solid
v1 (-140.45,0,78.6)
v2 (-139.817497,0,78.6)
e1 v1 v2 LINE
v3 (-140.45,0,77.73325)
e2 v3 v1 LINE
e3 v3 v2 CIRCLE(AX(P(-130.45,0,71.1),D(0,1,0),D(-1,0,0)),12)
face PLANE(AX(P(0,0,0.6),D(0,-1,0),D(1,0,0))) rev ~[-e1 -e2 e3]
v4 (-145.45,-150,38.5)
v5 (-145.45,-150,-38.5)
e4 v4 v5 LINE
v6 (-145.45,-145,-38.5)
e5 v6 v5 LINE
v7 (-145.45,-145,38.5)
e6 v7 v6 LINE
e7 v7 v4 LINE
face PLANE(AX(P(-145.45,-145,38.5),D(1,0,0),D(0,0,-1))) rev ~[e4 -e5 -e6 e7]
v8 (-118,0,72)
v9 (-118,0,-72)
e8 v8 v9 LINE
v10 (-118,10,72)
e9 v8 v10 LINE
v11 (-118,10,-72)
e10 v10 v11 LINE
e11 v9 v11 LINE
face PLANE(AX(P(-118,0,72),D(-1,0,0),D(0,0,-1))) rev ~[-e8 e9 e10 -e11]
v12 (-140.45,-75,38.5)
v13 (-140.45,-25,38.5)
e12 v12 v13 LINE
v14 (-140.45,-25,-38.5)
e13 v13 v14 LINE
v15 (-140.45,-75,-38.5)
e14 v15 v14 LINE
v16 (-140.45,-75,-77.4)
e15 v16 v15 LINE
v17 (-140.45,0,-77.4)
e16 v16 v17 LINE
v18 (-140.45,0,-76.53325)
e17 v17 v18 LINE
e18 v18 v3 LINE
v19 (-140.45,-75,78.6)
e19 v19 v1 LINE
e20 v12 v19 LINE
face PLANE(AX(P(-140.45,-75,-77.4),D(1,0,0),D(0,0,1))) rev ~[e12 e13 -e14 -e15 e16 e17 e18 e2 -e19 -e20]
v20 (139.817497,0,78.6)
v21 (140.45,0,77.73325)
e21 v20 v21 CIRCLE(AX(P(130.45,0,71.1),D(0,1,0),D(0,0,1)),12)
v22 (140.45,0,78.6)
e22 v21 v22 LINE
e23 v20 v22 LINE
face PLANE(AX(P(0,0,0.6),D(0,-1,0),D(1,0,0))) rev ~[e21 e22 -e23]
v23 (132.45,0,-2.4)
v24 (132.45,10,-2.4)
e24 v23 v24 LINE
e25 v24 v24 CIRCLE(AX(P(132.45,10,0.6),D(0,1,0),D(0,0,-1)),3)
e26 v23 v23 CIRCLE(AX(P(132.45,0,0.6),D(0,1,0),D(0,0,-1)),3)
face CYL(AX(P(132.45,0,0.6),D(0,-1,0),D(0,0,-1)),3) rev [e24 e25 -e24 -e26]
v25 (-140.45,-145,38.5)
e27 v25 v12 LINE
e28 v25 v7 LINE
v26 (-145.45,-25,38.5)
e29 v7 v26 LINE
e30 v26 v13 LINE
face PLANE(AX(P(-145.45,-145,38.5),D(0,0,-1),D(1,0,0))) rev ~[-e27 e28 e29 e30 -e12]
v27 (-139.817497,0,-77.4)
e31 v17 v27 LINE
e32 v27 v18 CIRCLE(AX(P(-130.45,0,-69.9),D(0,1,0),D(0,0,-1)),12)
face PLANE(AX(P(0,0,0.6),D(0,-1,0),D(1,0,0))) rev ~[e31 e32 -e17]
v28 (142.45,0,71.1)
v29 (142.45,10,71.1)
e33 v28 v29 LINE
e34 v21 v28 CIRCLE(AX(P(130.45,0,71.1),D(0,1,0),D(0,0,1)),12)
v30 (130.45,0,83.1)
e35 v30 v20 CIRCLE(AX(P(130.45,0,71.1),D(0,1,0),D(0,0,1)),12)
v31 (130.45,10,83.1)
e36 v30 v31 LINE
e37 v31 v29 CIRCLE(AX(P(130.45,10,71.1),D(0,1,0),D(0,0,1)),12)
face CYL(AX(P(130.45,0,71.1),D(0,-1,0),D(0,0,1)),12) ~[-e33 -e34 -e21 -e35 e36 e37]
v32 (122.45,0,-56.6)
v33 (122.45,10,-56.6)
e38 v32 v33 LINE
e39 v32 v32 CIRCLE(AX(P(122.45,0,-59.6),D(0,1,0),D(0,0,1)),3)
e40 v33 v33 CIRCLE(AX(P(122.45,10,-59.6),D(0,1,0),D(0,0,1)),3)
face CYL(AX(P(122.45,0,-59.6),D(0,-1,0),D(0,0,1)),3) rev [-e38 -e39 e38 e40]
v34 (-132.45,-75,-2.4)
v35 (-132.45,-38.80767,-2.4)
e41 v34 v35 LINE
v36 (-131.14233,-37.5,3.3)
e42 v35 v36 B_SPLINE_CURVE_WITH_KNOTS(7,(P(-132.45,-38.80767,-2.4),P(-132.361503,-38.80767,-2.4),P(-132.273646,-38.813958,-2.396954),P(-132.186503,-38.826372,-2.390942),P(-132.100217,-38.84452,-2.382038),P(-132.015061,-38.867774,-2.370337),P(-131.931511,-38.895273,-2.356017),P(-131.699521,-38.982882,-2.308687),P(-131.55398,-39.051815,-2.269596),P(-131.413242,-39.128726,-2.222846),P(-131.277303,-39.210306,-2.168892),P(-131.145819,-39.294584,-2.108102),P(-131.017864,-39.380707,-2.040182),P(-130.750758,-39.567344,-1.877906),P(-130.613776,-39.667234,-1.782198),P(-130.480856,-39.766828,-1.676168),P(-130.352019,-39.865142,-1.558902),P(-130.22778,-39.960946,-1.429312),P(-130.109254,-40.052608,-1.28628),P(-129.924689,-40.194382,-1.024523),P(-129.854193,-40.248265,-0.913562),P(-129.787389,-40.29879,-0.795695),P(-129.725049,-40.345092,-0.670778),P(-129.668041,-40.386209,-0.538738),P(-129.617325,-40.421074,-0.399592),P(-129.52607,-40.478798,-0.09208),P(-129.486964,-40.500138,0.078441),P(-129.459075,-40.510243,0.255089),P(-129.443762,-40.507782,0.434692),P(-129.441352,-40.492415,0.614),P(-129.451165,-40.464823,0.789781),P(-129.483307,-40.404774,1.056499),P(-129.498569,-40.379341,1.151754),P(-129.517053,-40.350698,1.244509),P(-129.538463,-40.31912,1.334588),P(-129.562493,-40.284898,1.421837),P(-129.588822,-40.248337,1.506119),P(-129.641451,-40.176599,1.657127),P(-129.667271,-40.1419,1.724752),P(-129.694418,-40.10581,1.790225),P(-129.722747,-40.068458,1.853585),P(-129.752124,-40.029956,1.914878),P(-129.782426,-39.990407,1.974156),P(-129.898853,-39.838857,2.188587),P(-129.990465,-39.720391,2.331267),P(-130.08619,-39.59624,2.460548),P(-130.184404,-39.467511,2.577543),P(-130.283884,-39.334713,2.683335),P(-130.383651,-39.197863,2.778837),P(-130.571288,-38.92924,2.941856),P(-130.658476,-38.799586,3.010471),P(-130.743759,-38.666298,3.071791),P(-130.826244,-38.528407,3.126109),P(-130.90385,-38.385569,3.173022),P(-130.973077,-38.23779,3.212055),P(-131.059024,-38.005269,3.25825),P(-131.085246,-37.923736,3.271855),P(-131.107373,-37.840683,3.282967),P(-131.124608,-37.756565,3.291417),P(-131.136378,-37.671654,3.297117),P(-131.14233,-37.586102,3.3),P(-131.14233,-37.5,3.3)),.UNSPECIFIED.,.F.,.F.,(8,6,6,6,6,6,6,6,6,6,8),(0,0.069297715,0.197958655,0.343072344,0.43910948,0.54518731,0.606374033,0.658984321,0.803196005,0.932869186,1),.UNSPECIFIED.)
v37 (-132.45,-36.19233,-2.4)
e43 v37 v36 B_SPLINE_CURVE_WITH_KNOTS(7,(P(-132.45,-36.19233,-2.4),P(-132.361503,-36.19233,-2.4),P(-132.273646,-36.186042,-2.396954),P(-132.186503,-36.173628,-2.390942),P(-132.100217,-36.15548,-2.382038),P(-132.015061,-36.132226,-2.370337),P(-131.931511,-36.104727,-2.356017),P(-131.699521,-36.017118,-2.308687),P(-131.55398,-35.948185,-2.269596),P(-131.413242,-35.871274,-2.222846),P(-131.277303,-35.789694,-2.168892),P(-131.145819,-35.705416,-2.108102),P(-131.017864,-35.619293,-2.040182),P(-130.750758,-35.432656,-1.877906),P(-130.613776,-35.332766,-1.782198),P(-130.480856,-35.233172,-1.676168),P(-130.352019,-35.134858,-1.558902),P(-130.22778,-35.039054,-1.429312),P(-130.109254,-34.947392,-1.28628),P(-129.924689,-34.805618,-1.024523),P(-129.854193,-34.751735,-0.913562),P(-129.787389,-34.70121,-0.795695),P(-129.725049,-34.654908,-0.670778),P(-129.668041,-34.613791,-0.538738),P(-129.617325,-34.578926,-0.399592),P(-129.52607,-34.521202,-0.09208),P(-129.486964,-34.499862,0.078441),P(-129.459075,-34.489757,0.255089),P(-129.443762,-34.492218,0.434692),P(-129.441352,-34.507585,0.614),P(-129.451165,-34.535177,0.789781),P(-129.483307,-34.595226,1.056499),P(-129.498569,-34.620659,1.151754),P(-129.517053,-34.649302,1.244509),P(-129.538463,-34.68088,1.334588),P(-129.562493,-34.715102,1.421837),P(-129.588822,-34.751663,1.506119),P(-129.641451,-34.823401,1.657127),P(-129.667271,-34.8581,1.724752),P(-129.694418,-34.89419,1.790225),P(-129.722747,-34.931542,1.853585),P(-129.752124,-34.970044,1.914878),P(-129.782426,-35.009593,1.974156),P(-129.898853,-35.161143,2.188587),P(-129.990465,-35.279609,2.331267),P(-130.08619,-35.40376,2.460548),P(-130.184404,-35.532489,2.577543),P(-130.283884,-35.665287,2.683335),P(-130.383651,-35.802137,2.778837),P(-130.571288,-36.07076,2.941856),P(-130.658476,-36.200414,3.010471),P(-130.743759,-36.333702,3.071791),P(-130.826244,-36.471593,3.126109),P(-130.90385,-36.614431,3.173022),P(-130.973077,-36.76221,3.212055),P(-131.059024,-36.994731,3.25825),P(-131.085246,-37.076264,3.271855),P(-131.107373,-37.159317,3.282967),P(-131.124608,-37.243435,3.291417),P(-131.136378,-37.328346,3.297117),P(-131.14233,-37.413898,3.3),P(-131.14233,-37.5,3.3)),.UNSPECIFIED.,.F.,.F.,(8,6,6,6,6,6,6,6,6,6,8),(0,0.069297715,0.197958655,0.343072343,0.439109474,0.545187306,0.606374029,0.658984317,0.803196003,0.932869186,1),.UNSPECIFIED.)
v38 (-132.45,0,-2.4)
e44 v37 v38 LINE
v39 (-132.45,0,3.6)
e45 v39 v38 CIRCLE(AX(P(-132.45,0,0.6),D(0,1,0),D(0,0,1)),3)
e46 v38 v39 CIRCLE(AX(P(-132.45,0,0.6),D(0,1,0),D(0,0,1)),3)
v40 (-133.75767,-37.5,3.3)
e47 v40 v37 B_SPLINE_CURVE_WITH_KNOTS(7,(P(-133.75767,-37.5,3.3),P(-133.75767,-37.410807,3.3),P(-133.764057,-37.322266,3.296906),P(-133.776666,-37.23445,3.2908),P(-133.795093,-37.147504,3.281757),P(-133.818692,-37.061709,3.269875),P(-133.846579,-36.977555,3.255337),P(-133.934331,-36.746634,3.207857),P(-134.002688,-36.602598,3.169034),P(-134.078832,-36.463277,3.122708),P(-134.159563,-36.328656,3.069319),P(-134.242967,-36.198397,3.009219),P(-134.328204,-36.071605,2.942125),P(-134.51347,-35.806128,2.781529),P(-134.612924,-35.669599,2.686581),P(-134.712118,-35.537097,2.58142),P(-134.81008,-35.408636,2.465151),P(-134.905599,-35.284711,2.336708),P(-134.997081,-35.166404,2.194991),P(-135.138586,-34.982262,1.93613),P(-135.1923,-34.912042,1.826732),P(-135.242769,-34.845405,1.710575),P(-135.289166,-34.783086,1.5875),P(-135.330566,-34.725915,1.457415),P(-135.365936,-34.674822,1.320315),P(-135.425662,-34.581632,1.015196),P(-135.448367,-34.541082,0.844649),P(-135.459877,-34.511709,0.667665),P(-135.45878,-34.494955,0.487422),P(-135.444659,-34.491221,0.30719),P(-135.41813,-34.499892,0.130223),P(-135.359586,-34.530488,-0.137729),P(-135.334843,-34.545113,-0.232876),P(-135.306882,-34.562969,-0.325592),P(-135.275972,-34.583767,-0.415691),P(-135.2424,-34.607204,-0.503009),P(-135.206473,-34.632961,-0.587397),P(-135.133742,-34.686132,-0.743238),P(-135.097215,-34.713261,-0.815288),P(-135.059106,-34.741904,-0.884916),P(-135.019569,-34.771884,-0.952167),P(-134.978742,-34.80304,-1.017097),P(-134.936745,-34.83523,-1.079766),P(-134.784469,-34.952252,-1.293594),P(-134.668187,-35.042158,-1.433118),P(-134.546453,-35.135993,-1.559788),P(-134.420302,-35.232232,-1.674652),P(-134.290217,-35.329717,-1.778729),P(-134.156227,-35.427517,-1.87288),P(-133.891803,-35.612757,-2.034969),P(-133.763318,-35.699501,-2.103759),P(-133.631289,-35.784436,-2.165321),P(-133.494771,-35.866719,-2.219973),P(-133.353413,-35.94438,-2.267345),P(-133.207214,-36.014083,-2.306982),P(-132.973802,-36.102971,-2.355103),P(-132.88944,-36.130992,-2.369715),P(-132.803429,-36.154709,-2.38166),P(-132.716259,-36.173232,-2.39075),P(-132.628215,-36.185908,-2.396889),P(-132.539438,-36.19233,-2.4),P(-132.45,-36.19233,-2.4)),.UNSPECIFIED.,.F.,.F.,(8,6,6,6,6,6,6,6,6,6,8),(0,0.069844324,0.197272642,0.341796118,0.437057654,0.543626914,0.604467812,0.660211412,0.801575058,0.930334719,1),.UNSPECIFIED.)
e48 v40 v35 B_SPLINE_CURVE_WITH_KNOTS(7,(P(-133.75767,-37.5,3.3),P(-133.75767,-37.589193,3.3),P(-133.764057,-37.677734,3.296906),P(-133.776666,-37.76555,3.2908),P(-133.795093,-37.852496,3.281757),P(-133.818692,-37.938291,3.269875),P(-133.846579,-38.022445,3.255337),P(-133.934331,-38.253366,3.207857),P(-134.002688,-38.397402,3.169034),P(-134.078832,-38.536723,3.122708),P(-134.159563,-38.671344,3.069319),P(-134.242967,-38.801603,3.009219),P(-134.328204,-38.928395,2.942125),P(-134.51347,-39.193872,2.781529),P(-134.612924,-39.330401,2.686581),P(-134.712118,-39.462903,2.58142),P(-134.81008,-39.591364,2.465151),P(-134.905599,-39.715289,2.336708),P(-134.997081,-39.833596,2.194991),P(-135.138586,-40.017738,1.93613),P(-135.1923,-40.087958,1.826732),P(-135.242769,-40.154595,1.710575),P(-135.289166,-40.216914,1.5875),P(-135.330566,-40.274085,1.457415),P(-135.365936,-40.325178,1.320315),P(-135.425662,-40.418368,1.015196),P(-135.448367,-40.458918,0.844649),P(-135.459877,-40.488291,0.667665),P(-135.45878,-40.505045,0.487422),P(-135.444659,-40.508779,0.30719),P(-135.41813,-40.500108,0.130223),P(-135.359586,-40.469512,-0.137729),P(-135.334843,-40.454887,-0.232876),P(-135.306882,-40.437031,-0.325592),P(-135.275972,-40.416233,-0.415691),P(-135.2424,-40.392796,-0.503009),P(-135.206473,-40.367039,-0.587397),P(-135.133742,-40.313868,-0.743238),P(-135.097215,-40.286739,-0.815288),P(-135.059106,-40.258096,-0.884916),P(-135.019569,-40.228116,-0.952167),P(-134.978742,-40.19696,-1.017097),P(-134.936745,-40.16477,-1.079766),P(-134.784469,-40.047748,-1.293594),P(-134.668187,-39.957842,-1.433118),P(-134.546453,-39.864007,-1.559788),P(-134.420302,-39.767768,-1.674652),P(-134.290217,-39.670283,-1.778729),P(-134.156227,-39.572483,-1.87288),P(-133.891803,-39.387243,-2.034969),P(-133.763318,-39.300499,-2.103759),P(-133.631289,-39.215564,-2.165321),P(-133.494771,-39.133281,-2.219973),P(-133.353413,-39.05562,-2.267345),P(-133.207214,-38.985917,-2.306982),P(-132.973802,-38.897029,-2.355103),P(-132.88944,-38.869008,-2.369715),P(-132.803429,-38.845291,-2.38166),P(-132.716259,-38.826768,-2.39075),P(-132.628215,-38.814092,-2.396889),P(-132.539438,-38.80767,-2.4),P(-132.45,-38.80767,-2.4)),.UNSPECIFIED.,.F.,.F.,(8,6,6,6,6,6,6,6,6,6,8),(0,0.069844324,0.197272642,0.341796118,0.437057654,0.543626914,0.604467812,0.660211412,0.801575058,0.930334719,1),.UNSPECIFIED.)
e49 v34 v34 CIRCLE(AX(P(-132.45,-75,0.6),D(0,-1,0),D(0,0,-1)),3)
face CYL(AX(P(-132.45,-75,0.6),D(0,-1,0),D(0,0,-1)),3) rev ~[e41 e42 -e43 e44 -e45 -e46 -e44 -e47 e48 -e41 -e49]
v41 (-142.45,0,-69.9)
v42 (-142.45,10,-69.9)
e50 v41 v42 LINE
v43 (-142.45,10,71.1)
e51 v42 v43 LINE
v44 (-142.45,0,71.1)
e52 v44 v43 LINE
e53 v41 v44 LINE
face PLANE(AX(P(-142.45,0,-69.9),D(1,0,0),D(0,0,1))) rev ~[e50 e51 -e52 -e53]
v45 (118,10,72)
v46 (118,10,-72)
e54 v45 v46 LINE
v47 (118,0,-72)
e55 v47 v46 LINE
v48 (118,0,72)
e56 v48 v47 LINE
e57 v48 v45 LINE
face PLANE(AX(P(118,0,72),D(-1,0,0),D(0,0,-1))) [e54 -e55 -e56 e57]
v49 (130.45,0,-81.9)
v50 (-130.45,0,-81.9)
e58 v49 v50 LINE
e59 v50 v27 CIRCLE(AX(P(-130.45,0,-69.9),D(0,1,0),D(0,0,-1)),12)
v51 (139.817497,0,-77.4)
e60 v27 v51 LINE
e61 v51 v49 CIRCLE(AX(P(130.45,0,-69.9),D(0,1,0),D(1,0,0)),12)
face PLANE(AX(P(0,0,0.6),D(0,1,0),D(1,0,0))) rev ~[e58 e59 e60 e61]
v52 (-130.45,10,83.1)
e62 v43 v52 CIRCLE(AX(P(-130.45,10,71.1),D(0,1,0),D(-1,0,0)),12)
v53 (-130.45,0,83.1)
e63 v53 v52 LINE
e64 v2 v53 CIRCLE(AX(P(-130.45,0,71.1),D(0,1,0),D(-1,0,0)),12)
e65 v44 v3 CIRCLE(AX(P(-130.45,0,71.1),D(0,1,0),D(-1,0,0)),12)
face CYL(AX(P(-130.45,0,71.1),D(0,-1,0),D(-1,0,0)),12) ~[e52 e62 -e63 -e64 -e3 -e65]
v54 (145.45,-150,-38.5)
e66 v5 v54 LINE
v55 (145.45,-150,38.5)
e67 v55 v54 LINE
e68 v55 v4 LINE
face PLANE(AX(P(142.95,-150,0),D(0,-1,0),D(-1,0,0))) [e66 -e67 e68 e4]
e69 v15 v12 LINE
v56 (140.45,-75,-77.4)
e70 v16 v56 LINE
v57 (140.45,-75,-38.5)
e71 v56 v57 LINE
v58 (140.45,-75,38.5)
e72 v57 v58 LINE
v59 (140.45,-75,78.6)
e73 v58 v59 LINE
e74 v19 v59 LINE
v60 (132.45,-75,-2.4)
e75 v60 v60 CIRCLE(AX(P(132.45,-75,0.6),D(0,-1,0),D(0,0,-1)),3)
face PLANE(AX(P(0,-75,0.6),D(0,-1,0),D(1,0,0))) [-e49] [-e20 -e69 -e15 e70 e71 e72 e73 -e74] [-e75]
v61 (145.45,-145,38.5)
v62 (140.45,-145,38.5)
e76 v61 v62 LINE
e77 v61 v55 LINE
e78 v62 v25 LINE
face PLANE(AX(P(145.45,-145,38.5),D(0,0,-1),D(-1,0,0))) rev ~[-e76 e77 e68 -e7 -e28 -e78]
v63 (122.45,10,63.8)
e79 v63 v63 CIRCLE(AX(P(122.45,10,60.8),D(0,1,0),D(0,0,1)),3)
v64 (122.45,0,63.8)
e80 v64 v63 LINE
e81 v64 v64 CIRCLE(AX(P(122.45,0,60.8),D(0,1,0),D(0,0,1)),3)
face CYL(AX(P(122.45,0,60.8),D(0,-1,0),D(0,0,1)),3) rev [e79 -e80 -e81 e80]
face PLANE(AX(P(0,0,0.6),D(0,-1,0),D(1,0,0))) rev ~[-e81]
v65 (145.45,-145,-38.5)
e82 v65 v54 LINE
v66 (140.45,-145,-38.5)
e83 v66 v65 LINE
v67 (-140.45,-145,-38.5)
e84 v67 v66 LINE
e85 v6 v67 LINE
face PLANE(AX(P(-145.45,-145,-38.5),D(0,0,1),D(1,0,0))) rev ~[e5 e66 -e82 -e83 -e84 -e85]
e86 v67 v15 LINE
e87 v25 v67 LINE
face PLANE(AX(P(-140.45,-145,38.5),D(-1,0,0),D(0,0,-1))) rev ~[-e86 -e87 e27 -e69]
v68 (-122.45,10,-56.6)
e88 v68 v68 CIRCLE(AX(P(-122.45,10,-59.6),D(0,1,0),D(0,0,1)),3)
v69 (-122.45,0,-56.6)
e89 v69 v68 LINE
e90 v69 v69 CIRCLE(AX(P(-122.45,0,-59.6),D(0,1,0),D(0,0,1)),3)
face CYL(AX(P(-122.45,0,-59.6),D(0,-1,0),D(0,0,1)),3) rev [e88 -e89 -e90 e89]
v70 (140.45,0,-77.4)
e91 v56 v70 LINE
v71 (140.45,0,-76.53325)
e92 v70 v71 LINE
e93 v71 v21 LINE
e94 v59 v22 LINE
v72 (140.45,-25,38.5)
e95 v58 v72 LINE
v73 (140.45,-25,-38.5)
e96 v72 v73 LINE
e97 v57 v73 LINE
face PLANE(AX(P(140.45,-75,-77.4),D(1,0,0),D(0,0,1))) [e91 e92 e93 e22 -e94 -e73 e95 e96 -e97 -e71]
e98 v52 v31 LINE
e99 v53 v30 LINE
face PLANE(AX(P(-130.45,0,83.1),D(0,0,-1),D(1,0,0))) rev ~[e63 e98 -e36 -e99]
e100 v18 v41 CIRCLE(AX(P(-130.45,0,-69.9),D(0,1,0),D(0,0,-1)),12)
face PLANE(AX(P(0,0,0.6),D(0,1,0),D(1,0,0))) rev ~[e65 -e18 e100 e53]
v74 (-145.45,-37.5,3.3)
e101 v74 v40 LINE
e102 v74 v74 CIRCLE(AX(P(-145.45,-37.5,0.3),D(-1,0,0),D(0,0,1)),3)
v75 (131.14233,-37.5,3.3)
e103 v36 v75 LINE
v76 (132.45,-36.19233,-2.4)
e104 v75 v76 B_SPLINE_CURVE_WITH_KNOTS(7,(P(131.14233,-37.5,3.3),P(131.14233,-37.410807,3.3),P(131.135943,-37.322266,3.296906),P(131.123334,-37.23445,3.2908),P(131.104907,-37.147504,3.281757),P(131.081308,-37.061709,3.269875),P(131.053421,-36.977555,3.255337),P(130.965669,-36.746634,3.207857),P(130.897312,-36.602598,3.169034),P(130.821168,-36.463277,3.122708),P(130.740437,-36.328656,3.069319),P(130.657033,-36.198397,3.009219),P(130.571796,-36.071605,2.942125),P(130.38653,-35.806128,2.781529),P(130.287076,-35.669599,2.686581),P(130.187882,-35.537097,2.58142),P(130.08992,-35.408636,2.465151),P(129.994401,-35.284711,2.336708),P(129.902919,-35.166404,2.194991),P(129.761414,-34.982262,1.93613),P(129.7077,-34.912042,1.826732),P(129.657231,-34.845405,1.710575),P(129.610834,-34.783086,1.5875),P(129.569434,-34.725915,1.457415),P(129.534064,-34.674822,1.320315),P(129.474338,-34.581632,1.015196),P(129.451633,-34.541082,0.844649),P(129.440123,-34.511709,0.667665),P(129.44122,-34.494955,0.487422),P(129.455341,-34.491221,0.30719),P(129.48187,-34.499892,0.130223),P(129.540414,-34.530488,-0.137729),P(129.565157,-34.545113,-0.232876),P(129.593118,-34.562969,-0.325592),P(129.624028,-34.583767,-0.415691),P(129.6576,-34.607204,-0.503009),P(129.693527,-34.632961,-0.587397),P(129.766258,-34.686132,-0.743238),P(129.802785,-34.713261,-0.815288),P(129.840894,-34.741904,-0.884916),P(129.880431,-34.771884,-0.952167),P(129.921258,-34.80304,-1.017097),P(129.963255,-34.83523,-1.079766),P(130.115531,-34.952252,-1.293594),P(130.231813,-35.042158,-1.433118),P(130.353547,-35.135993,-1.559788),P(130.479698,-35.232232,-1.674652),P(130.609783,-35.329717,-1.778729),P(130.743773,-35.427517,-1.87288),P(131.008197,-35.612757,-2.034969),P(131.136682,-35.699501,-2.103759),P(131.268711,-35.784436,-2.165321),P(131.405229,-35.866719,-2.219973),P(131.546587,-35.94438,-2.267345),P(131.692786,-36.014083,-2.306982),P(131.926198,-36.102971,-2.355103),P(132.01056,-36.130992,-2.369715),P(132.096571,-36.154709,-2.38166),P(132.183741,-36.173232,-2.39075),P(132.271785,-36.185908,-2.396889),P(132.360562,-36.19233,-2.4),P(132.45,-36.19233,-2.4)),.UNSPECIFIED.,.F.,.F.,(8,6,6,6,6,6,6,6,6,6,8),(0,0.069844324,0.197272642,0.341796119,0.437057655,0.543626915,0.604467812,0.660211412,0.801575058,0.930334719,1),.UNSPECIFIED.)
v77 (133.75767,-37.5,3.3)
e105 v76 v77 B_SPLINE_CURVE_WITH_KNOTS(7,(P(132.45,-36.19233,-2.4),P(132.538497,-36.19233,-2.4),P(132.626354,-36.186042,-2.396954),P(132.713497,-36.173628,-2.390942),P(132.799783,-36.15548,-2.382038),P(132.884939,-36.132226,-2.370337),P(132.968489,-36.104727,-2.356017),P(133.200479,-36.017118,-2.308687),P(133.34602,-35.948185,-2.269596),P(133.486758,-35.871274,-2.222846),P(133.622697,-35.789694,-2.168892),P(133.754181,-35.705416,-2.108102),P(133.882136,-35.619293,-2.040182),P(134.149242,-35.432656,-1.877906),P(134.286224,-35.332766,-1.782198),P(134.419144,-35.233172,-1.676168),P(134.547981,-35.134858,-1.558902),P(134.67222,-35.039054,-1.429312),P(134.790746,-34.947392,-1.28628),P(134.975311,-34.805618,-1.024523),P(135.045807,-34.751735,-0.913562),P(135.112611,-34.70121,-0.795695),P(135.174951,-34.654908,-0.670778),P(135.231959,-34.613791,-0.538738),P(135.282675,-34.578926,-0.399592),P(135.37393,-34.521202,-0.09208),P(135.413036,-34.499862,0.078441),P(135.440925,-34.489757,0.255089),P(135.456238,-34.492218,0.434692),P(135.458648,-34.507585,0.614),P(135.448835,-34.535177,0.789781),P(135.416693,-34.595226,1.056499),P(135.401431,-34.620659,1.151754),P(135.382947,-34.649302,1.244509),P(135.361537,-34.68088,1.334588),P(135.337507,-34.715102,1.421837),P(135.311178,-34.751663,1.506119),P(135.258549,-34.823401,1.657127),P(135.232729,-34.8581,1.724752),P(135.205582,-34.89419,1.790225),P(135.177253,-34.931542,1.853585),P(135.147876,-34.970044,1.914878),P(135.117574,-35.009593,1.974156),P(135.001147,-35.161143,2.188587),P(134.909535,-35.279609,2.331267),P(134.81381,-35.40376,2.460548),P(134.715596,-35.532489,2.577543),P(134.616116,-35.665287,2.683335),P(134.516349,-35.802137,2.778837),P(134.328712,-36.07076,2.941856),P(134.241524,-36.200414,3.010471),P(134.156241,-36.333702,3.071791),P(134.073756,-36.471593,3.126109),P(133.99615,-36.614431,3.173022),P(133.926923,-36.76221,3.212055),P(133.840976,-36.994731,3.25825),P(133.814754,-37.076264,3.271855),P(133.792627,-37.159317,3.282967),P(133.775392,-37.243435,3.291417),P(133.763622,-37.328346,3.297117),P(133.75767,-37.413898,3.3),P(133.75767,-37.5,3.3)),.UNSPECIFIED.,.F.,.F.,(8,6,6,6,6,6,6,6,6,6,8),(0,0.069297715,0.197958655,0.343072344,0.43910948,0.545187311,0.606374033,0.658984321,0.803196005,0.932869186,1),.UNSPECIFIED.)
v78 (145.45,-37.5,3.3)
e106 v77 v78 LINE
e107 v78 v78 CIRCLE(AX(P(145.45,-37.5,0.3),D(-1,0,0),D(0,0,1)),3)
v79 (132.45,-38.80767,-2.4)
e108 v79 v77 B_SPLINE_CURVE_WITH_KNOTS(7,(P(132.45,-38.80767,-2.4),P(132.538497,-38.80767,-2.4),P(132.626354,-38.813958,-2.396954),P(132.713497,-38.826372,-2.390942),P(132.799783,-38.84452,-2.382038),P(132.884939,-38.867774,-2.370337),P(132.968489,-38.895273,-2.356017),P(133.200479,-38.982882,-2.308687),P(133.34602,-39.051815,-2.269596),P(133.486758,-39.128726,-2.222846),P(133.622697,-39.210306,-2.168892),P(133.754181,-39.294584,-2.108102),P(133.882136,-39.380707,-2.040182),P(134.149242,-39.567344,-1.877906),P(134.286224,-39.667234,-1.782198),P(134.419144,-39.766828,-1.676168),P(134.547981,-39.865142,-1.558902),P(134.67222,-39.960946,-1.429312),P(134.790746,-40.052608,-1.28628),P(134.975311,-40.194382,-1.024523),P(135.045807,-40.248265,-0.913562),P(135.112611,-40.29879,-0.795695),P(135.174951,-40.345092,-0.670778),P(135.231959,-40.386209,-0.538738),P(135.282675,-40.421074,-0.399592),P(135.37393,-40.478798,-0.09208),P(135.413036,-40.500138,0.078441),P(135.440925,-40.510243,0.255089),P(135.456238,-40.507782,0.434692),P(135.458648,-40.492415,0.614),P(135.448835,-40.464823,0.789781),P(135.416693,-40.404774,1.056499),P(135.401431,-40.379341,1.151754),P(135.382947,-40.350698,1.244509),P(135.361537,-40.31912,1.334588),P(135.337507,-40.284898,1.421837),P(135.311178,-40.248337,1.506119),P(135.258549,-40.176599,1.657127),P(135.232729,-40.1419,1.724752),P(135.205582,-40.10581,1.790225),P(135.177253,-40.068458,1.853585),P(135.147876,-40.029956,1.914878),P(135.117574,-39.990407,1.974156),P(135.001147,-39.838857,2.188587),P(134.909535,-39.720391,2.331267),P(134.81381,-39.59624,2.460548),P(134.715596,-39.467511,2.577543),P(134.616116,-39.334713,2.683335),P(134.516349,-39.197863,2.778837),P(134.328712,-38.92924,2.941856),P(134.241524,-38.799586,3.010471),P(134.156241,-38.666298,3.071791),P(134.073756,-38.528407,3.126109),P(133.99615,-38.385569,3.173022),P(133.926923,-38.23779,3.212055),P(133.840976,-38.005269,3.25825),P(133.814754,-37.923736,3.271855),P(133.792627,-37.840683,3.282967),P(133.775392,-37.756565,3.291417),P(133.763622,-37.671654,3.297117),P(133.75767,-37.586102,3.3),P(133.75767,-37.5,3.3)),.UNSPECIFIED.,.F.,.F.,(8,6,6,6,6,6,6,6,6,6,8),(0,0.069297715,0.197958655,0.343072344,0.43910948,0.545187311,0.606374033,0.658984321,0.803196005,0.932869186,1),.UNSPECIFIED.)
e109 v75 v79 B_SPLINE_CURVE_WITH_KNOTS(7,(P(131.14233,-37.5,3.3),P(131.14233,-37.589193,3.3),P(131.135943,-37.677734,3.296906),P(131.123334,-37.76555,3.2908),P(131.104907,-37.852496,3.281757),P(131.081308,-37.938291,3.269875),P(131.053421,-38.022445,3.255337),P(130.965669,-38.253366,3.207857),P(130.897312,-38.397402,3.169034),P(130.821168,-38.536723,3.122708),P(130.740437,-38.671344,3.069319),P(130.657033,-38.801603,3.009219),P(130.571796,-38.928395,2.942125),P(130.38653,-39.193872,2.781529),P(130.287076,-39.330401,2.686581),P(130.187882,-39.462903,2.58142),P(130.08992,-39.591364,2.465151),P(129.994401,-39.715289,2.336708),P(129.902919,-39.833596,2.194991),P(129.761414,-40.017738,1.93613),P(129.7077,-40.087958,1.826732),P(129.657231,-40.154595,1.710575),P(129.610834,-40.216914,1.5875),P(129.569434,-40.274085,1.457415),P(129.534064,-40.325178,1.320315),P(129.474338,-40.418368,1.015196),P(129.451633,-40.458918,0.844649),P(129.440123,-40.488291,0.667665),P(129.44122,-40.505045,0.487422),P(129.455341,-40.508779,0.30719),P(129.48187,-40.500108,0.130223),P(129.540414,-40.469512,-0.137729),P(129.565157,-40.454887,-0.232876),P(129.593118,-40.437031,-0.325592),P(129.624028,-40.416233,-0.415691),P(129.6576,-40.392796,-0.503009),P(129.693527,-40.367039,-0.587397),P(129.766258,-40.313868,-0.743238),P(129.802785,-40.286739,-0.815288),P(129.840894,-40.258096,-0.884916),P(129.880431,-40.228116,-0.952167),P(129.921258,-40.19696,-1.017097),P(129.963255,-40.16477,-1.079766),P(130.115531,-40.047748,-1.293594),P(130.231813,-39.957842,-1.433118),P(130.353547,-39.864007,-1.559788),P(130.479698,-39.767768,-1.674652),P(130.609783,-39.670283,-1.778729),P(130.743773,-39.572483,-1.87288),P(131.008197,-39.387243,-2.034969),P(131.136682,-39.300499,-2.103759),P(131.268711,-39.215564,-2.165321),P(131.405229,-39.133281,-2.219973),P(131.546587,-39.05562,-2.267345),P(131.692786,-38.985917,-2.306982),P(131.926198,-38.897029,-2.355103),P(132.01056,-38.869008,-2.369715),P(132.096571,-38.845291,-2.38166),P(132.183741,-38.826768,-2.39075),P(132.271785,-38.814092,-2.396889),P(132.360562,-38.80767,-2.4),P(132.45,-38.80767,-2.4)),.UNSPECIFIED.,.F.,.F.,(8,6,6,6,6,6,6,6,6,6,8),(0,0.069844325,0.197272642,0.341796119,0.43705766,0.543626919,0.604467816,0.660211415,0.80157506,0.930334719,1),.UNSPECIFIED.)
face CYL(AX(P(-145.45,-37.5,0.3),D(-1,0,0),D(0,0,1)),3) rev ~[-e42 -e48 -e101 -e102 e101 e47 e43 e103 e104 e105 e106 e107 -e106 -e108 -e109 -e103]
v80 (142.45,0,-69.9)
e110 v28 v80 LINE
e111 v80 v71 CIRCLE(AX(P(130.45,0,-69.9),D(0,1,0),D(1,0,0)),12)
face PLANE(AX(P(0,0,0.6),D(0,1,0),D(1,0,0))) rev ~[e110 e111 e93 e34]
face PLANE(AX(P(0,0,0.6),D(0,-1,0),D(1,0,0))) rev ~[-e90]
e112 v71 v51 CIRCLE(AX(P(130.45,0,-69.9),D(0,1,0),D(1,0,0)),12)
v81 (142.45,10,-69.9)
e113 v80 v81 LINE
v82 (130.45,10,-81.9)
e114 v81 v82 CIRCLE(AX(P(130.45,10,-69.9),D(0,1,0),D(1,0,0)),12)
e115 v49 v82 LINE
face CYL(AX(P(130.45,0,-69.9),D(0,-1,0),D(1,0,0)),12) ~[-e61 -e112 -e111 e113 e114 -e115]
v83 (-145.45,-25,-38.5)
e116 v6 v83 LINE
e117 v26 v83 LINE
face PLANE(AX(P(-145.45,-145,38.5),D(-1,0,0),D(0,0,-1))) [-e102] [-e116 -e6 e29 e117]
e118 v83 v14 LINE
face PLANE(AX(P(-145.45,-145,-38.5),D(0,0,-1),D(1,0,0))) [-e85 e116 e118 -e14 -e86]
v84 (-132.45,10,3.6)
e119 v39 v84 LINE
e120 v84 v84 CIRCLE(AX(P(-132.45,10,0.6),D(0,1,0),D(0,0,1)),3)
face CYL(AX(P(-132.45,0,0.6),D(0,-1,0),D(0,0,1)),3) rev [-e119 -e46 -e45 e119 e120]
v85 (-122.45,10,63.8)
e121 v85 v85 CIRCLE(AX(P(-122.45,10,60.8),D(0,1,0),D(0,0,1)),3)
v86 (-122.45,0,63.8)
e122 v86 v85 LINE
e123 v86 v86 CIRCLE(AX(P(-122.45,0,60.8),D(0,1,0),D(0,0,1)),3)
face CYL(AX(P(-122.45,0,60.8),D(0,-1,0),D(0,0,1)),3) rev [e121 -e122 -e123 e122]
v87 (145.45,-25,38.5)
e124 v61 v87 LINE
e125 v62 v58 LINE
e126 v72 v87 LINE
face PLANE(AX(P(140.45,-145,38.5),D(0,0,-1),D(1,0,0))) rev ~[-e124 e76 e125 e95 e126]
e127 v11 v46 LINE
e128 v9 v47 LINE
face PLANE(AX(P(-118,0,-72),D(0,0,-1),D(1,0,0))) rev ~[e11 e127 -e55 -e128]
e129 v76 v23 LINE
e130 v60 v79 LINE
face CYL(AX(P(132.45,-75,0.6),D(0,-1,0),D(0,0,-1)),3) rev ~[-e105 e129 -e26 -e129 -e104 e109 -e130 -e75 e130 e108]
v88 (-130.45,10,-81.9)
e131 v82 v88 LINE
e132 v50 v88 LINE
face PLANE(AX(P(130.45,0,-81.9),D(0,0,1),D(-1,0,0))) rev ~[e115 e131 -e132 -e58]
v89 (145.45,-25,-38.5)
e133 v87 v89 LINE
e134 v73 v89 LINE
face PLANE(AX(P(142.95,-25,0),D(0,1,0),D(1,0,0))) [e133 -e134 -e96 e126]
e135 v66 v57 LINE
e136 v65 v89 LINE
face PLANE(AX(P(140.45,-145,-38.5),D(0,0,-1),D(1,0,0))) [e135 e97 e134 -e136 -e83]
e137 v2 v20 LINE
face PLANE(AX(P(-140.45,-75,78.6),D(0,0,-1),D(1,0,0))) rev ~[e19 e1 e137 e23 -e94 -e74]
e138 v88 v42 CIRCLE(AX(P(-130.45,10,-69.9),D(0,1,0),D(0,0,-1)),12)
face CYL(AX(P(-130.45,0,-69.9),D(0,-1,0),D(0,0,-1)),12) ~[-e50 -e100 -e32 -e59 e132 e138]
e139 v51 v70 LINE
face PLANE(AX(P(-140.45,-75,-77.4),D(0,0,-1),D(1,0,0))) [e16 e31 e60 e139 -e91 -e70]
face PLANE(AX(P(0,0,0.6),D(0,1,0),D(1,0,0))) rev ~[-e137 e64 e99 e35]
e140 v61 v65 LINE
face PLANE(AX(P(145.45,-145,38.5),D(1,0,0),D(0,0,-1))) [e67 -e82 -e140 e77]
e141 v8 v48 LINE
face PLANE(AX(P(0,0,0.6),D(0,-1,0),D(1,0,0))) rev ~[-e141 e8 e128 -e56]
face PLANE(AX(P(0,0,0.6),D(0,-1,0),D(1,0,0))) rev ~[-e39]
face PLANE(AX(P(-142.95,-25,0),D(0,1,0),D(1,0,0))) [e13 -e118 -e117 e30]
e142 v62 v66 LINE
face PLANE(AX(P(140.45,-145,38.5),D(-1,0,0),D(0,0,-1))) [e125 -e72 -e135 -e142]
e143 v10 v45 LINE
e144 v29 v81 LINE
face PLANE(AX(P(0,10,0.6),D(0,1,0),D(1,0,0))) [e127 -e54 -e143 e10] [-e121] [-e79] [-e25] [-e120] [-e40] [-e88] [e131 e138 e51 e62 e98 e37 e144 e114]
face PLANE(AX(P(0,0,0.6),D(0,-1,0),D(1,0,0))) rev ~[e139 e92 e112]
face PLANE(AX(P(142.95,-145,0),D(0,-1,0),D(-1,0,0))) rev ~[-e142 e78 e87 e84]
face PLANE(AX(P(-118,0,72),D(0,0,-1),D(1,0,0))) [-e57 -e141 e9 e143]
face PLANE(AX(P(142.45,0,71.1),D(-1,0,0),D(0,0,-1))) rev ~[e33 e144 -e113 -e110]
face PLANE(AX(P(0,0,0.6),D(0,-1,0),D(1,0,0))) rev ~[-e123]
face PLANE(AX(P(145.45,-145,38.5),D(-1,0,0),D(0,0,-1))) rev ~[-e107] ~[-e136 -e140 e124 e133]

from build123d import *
from build123d.topology import SkipClean

# Parameters (mm, degrees)
SKETCH5_R           = 3
SKETCH5_W           = 236
SKETCH5_H           = 144
BOSS_EXTRUDE1_DEPTH = 10
BOSS_EXTRUDE2_START = 75
SKETCH7_W           = 280.9
SKETCH7_H           = 156
SKETCH7_R           = 3
BOSS_EXTRUDE2_DEPTH = 75
SKETCH9_W           = 5
SKETCH9_H           = 77
SKETCH9_W_2         = 280.9
BOSS_EXTRUDE3_DEPTH = 5
SKETCH10_W          = 5
SKETCH10_H          = 77
BOSS_EXTRUDE5_DEPTH = 120
SKETCH11_R          = 3
CUT_EXTRUDE1_DEPTH  = 1011


with BuildPart() as part:
    # Sketch5 → Boss-Extrude1 (new body)
    with BuildSketch(Plane(origin=(0, 0, 0), x_dir=(1, 0, 0), z_dir=(0, 1, 0))):
        with BuildLine():
            Line((-142.45, 69.9), (-142.45, -71.1))
            ThreePointArc((-142.45, -71.1), (-138.935281374, -79.585281374), (-130.45, -83.1))
            Line((-130.45, -83.1), (130.45, -83.1))
            ThreePointArc((130.45, -83.1), (138.935281374, -79.585281374), (142.45, -71.1))
            Line((142.45, -71.1), (142.45, 69.9))
            ThreePointArc((142.45, 69.9), (138.935281374, 78.385281374), (130.45, 81.9))
            Line((130.45, 81.9), (-130.45, 81.9))
            ThreePointArc((-130.45, 81.9), (-138.935281374, 78.385281374), (-142.45, 69.9))
        make_face()
        with Locations(Location((-122.45, 59.6, 0), (0, 0, 270))):
            Circle(SKETCH5_R, mode=Mode.SUBTRACT)
        with Locations(Location((-122.45, -60.8, 0), (0, 0, 270))):
            Circle(SKETCH5_R, mode=Mode.SUBTRACT)
        with Locations(Location((122.45, -60.8, 0), (0, 0, 270))):
            Circle(SKETCH5_R, mode=Mode.SUBTRACT)
        with Locations(Location((122.45, 59.6, 0), (0, 0, 270))):
            Circle(SKETCH5_R, mode=Mode.SUBTRACT)
        with Locations(Location((-132.45, -0.6, 0), (0, 0, 270))):
            Circle(SKETCH5_R, mode=Mode.SUBTRACT)
        with Locations(Location((132.45, -0.6, 0), (0, 0, 90))):
            Circle(SKETCH5_R, mode=Mode.SUBTRACT)
        Rectangle(SKETCH5_W, SKETCH5_H, mode=Mode.SUBTRACT)
    extrude(amount=BOSS_EXTRUDE1_DEPTH)

    # Sketch7 → Boss-Extrude2 (add)
    with SkipClean():  # the faces are left unmerged after this step: merging them gives an invalid solid
        with BuildSketch(Plane.XZ.offset(BOSS_EXTRUDE2_START)):
            with Locations((0, 0.6)):
                Rectangle(SKETCH7_W, SKETCH7_H)
            with Locations(Location((132.45, 0.6, 0), (0, 0, 270))):
                Circle(SKETCH7_R, mode=Mode.SUBTRACT)
            with Locations(Location((-132.45, 0.6, 0), (0, 0, 270))):
                Circle(SKETCH7_R, mode=Mode.SUBTRACT)
        extrude(amount=-BOSS_EXTRUDE2_DEPTH)



with BuildPart() as body_2:
    # Sketch9 → Boss-Extrude3 (new body)
    with BuildSketch(Plane(origin=(0, -145, 0), x_dir=(-1, 0, 0), z_dir=(0, -1, 0))):
        with Locations((-142.95, 0)):
            Rectangle(SKETCH9_W, SKETCH9_H)
        Rectangle(SKETCH9_W_2, SKETCH9_H)
        with Locations((142.95, 0)):
            Rectangle(SKETCH9_W, SKETCH9_H)
    extrude(amount=BOSS_EXTRUDE3_DEPTH)


with BuildPart() as part_1:
    with SkipClean():  # the faces are left unmerged after this step: merging them gives an invalid solid
        add(part.part)

        add(body_2.part)  # Boss-Extrude5 merges body 2
        # Sketch10 → Boss-Extrude5 (add)
        with BuildSketch(Plane(origin=(0, -145, 0), x_dir=(1, 0, 0), z_dir=(0, 1, 0))):
            with Locations((-142.95, 0)):
                Rectangle(SKETCH10_W, SKETCH10_H)
            with Locations((142.95, 0)):
                Rectangle(SKETCH10_W, SKETCH10_H)
        extrude(amount=BOSS_EXTRUDE5_DEPTH)

    # Sketch11 → Cut-Extrude1 (cut)
    with SkipClean():  # the faces are left unmerged after this step: merging them gives an invalid solid
        with BuildSketch(Plane.ZY.offset(145.45)):
            with Locations((0.3, -37.5)):
                Circle(SKETCH11_R)
        extrude(amount=-CUT_EXTRUDE1_DEPTH, mode=Mode.SUBTRACT)


solid = part_1.part
